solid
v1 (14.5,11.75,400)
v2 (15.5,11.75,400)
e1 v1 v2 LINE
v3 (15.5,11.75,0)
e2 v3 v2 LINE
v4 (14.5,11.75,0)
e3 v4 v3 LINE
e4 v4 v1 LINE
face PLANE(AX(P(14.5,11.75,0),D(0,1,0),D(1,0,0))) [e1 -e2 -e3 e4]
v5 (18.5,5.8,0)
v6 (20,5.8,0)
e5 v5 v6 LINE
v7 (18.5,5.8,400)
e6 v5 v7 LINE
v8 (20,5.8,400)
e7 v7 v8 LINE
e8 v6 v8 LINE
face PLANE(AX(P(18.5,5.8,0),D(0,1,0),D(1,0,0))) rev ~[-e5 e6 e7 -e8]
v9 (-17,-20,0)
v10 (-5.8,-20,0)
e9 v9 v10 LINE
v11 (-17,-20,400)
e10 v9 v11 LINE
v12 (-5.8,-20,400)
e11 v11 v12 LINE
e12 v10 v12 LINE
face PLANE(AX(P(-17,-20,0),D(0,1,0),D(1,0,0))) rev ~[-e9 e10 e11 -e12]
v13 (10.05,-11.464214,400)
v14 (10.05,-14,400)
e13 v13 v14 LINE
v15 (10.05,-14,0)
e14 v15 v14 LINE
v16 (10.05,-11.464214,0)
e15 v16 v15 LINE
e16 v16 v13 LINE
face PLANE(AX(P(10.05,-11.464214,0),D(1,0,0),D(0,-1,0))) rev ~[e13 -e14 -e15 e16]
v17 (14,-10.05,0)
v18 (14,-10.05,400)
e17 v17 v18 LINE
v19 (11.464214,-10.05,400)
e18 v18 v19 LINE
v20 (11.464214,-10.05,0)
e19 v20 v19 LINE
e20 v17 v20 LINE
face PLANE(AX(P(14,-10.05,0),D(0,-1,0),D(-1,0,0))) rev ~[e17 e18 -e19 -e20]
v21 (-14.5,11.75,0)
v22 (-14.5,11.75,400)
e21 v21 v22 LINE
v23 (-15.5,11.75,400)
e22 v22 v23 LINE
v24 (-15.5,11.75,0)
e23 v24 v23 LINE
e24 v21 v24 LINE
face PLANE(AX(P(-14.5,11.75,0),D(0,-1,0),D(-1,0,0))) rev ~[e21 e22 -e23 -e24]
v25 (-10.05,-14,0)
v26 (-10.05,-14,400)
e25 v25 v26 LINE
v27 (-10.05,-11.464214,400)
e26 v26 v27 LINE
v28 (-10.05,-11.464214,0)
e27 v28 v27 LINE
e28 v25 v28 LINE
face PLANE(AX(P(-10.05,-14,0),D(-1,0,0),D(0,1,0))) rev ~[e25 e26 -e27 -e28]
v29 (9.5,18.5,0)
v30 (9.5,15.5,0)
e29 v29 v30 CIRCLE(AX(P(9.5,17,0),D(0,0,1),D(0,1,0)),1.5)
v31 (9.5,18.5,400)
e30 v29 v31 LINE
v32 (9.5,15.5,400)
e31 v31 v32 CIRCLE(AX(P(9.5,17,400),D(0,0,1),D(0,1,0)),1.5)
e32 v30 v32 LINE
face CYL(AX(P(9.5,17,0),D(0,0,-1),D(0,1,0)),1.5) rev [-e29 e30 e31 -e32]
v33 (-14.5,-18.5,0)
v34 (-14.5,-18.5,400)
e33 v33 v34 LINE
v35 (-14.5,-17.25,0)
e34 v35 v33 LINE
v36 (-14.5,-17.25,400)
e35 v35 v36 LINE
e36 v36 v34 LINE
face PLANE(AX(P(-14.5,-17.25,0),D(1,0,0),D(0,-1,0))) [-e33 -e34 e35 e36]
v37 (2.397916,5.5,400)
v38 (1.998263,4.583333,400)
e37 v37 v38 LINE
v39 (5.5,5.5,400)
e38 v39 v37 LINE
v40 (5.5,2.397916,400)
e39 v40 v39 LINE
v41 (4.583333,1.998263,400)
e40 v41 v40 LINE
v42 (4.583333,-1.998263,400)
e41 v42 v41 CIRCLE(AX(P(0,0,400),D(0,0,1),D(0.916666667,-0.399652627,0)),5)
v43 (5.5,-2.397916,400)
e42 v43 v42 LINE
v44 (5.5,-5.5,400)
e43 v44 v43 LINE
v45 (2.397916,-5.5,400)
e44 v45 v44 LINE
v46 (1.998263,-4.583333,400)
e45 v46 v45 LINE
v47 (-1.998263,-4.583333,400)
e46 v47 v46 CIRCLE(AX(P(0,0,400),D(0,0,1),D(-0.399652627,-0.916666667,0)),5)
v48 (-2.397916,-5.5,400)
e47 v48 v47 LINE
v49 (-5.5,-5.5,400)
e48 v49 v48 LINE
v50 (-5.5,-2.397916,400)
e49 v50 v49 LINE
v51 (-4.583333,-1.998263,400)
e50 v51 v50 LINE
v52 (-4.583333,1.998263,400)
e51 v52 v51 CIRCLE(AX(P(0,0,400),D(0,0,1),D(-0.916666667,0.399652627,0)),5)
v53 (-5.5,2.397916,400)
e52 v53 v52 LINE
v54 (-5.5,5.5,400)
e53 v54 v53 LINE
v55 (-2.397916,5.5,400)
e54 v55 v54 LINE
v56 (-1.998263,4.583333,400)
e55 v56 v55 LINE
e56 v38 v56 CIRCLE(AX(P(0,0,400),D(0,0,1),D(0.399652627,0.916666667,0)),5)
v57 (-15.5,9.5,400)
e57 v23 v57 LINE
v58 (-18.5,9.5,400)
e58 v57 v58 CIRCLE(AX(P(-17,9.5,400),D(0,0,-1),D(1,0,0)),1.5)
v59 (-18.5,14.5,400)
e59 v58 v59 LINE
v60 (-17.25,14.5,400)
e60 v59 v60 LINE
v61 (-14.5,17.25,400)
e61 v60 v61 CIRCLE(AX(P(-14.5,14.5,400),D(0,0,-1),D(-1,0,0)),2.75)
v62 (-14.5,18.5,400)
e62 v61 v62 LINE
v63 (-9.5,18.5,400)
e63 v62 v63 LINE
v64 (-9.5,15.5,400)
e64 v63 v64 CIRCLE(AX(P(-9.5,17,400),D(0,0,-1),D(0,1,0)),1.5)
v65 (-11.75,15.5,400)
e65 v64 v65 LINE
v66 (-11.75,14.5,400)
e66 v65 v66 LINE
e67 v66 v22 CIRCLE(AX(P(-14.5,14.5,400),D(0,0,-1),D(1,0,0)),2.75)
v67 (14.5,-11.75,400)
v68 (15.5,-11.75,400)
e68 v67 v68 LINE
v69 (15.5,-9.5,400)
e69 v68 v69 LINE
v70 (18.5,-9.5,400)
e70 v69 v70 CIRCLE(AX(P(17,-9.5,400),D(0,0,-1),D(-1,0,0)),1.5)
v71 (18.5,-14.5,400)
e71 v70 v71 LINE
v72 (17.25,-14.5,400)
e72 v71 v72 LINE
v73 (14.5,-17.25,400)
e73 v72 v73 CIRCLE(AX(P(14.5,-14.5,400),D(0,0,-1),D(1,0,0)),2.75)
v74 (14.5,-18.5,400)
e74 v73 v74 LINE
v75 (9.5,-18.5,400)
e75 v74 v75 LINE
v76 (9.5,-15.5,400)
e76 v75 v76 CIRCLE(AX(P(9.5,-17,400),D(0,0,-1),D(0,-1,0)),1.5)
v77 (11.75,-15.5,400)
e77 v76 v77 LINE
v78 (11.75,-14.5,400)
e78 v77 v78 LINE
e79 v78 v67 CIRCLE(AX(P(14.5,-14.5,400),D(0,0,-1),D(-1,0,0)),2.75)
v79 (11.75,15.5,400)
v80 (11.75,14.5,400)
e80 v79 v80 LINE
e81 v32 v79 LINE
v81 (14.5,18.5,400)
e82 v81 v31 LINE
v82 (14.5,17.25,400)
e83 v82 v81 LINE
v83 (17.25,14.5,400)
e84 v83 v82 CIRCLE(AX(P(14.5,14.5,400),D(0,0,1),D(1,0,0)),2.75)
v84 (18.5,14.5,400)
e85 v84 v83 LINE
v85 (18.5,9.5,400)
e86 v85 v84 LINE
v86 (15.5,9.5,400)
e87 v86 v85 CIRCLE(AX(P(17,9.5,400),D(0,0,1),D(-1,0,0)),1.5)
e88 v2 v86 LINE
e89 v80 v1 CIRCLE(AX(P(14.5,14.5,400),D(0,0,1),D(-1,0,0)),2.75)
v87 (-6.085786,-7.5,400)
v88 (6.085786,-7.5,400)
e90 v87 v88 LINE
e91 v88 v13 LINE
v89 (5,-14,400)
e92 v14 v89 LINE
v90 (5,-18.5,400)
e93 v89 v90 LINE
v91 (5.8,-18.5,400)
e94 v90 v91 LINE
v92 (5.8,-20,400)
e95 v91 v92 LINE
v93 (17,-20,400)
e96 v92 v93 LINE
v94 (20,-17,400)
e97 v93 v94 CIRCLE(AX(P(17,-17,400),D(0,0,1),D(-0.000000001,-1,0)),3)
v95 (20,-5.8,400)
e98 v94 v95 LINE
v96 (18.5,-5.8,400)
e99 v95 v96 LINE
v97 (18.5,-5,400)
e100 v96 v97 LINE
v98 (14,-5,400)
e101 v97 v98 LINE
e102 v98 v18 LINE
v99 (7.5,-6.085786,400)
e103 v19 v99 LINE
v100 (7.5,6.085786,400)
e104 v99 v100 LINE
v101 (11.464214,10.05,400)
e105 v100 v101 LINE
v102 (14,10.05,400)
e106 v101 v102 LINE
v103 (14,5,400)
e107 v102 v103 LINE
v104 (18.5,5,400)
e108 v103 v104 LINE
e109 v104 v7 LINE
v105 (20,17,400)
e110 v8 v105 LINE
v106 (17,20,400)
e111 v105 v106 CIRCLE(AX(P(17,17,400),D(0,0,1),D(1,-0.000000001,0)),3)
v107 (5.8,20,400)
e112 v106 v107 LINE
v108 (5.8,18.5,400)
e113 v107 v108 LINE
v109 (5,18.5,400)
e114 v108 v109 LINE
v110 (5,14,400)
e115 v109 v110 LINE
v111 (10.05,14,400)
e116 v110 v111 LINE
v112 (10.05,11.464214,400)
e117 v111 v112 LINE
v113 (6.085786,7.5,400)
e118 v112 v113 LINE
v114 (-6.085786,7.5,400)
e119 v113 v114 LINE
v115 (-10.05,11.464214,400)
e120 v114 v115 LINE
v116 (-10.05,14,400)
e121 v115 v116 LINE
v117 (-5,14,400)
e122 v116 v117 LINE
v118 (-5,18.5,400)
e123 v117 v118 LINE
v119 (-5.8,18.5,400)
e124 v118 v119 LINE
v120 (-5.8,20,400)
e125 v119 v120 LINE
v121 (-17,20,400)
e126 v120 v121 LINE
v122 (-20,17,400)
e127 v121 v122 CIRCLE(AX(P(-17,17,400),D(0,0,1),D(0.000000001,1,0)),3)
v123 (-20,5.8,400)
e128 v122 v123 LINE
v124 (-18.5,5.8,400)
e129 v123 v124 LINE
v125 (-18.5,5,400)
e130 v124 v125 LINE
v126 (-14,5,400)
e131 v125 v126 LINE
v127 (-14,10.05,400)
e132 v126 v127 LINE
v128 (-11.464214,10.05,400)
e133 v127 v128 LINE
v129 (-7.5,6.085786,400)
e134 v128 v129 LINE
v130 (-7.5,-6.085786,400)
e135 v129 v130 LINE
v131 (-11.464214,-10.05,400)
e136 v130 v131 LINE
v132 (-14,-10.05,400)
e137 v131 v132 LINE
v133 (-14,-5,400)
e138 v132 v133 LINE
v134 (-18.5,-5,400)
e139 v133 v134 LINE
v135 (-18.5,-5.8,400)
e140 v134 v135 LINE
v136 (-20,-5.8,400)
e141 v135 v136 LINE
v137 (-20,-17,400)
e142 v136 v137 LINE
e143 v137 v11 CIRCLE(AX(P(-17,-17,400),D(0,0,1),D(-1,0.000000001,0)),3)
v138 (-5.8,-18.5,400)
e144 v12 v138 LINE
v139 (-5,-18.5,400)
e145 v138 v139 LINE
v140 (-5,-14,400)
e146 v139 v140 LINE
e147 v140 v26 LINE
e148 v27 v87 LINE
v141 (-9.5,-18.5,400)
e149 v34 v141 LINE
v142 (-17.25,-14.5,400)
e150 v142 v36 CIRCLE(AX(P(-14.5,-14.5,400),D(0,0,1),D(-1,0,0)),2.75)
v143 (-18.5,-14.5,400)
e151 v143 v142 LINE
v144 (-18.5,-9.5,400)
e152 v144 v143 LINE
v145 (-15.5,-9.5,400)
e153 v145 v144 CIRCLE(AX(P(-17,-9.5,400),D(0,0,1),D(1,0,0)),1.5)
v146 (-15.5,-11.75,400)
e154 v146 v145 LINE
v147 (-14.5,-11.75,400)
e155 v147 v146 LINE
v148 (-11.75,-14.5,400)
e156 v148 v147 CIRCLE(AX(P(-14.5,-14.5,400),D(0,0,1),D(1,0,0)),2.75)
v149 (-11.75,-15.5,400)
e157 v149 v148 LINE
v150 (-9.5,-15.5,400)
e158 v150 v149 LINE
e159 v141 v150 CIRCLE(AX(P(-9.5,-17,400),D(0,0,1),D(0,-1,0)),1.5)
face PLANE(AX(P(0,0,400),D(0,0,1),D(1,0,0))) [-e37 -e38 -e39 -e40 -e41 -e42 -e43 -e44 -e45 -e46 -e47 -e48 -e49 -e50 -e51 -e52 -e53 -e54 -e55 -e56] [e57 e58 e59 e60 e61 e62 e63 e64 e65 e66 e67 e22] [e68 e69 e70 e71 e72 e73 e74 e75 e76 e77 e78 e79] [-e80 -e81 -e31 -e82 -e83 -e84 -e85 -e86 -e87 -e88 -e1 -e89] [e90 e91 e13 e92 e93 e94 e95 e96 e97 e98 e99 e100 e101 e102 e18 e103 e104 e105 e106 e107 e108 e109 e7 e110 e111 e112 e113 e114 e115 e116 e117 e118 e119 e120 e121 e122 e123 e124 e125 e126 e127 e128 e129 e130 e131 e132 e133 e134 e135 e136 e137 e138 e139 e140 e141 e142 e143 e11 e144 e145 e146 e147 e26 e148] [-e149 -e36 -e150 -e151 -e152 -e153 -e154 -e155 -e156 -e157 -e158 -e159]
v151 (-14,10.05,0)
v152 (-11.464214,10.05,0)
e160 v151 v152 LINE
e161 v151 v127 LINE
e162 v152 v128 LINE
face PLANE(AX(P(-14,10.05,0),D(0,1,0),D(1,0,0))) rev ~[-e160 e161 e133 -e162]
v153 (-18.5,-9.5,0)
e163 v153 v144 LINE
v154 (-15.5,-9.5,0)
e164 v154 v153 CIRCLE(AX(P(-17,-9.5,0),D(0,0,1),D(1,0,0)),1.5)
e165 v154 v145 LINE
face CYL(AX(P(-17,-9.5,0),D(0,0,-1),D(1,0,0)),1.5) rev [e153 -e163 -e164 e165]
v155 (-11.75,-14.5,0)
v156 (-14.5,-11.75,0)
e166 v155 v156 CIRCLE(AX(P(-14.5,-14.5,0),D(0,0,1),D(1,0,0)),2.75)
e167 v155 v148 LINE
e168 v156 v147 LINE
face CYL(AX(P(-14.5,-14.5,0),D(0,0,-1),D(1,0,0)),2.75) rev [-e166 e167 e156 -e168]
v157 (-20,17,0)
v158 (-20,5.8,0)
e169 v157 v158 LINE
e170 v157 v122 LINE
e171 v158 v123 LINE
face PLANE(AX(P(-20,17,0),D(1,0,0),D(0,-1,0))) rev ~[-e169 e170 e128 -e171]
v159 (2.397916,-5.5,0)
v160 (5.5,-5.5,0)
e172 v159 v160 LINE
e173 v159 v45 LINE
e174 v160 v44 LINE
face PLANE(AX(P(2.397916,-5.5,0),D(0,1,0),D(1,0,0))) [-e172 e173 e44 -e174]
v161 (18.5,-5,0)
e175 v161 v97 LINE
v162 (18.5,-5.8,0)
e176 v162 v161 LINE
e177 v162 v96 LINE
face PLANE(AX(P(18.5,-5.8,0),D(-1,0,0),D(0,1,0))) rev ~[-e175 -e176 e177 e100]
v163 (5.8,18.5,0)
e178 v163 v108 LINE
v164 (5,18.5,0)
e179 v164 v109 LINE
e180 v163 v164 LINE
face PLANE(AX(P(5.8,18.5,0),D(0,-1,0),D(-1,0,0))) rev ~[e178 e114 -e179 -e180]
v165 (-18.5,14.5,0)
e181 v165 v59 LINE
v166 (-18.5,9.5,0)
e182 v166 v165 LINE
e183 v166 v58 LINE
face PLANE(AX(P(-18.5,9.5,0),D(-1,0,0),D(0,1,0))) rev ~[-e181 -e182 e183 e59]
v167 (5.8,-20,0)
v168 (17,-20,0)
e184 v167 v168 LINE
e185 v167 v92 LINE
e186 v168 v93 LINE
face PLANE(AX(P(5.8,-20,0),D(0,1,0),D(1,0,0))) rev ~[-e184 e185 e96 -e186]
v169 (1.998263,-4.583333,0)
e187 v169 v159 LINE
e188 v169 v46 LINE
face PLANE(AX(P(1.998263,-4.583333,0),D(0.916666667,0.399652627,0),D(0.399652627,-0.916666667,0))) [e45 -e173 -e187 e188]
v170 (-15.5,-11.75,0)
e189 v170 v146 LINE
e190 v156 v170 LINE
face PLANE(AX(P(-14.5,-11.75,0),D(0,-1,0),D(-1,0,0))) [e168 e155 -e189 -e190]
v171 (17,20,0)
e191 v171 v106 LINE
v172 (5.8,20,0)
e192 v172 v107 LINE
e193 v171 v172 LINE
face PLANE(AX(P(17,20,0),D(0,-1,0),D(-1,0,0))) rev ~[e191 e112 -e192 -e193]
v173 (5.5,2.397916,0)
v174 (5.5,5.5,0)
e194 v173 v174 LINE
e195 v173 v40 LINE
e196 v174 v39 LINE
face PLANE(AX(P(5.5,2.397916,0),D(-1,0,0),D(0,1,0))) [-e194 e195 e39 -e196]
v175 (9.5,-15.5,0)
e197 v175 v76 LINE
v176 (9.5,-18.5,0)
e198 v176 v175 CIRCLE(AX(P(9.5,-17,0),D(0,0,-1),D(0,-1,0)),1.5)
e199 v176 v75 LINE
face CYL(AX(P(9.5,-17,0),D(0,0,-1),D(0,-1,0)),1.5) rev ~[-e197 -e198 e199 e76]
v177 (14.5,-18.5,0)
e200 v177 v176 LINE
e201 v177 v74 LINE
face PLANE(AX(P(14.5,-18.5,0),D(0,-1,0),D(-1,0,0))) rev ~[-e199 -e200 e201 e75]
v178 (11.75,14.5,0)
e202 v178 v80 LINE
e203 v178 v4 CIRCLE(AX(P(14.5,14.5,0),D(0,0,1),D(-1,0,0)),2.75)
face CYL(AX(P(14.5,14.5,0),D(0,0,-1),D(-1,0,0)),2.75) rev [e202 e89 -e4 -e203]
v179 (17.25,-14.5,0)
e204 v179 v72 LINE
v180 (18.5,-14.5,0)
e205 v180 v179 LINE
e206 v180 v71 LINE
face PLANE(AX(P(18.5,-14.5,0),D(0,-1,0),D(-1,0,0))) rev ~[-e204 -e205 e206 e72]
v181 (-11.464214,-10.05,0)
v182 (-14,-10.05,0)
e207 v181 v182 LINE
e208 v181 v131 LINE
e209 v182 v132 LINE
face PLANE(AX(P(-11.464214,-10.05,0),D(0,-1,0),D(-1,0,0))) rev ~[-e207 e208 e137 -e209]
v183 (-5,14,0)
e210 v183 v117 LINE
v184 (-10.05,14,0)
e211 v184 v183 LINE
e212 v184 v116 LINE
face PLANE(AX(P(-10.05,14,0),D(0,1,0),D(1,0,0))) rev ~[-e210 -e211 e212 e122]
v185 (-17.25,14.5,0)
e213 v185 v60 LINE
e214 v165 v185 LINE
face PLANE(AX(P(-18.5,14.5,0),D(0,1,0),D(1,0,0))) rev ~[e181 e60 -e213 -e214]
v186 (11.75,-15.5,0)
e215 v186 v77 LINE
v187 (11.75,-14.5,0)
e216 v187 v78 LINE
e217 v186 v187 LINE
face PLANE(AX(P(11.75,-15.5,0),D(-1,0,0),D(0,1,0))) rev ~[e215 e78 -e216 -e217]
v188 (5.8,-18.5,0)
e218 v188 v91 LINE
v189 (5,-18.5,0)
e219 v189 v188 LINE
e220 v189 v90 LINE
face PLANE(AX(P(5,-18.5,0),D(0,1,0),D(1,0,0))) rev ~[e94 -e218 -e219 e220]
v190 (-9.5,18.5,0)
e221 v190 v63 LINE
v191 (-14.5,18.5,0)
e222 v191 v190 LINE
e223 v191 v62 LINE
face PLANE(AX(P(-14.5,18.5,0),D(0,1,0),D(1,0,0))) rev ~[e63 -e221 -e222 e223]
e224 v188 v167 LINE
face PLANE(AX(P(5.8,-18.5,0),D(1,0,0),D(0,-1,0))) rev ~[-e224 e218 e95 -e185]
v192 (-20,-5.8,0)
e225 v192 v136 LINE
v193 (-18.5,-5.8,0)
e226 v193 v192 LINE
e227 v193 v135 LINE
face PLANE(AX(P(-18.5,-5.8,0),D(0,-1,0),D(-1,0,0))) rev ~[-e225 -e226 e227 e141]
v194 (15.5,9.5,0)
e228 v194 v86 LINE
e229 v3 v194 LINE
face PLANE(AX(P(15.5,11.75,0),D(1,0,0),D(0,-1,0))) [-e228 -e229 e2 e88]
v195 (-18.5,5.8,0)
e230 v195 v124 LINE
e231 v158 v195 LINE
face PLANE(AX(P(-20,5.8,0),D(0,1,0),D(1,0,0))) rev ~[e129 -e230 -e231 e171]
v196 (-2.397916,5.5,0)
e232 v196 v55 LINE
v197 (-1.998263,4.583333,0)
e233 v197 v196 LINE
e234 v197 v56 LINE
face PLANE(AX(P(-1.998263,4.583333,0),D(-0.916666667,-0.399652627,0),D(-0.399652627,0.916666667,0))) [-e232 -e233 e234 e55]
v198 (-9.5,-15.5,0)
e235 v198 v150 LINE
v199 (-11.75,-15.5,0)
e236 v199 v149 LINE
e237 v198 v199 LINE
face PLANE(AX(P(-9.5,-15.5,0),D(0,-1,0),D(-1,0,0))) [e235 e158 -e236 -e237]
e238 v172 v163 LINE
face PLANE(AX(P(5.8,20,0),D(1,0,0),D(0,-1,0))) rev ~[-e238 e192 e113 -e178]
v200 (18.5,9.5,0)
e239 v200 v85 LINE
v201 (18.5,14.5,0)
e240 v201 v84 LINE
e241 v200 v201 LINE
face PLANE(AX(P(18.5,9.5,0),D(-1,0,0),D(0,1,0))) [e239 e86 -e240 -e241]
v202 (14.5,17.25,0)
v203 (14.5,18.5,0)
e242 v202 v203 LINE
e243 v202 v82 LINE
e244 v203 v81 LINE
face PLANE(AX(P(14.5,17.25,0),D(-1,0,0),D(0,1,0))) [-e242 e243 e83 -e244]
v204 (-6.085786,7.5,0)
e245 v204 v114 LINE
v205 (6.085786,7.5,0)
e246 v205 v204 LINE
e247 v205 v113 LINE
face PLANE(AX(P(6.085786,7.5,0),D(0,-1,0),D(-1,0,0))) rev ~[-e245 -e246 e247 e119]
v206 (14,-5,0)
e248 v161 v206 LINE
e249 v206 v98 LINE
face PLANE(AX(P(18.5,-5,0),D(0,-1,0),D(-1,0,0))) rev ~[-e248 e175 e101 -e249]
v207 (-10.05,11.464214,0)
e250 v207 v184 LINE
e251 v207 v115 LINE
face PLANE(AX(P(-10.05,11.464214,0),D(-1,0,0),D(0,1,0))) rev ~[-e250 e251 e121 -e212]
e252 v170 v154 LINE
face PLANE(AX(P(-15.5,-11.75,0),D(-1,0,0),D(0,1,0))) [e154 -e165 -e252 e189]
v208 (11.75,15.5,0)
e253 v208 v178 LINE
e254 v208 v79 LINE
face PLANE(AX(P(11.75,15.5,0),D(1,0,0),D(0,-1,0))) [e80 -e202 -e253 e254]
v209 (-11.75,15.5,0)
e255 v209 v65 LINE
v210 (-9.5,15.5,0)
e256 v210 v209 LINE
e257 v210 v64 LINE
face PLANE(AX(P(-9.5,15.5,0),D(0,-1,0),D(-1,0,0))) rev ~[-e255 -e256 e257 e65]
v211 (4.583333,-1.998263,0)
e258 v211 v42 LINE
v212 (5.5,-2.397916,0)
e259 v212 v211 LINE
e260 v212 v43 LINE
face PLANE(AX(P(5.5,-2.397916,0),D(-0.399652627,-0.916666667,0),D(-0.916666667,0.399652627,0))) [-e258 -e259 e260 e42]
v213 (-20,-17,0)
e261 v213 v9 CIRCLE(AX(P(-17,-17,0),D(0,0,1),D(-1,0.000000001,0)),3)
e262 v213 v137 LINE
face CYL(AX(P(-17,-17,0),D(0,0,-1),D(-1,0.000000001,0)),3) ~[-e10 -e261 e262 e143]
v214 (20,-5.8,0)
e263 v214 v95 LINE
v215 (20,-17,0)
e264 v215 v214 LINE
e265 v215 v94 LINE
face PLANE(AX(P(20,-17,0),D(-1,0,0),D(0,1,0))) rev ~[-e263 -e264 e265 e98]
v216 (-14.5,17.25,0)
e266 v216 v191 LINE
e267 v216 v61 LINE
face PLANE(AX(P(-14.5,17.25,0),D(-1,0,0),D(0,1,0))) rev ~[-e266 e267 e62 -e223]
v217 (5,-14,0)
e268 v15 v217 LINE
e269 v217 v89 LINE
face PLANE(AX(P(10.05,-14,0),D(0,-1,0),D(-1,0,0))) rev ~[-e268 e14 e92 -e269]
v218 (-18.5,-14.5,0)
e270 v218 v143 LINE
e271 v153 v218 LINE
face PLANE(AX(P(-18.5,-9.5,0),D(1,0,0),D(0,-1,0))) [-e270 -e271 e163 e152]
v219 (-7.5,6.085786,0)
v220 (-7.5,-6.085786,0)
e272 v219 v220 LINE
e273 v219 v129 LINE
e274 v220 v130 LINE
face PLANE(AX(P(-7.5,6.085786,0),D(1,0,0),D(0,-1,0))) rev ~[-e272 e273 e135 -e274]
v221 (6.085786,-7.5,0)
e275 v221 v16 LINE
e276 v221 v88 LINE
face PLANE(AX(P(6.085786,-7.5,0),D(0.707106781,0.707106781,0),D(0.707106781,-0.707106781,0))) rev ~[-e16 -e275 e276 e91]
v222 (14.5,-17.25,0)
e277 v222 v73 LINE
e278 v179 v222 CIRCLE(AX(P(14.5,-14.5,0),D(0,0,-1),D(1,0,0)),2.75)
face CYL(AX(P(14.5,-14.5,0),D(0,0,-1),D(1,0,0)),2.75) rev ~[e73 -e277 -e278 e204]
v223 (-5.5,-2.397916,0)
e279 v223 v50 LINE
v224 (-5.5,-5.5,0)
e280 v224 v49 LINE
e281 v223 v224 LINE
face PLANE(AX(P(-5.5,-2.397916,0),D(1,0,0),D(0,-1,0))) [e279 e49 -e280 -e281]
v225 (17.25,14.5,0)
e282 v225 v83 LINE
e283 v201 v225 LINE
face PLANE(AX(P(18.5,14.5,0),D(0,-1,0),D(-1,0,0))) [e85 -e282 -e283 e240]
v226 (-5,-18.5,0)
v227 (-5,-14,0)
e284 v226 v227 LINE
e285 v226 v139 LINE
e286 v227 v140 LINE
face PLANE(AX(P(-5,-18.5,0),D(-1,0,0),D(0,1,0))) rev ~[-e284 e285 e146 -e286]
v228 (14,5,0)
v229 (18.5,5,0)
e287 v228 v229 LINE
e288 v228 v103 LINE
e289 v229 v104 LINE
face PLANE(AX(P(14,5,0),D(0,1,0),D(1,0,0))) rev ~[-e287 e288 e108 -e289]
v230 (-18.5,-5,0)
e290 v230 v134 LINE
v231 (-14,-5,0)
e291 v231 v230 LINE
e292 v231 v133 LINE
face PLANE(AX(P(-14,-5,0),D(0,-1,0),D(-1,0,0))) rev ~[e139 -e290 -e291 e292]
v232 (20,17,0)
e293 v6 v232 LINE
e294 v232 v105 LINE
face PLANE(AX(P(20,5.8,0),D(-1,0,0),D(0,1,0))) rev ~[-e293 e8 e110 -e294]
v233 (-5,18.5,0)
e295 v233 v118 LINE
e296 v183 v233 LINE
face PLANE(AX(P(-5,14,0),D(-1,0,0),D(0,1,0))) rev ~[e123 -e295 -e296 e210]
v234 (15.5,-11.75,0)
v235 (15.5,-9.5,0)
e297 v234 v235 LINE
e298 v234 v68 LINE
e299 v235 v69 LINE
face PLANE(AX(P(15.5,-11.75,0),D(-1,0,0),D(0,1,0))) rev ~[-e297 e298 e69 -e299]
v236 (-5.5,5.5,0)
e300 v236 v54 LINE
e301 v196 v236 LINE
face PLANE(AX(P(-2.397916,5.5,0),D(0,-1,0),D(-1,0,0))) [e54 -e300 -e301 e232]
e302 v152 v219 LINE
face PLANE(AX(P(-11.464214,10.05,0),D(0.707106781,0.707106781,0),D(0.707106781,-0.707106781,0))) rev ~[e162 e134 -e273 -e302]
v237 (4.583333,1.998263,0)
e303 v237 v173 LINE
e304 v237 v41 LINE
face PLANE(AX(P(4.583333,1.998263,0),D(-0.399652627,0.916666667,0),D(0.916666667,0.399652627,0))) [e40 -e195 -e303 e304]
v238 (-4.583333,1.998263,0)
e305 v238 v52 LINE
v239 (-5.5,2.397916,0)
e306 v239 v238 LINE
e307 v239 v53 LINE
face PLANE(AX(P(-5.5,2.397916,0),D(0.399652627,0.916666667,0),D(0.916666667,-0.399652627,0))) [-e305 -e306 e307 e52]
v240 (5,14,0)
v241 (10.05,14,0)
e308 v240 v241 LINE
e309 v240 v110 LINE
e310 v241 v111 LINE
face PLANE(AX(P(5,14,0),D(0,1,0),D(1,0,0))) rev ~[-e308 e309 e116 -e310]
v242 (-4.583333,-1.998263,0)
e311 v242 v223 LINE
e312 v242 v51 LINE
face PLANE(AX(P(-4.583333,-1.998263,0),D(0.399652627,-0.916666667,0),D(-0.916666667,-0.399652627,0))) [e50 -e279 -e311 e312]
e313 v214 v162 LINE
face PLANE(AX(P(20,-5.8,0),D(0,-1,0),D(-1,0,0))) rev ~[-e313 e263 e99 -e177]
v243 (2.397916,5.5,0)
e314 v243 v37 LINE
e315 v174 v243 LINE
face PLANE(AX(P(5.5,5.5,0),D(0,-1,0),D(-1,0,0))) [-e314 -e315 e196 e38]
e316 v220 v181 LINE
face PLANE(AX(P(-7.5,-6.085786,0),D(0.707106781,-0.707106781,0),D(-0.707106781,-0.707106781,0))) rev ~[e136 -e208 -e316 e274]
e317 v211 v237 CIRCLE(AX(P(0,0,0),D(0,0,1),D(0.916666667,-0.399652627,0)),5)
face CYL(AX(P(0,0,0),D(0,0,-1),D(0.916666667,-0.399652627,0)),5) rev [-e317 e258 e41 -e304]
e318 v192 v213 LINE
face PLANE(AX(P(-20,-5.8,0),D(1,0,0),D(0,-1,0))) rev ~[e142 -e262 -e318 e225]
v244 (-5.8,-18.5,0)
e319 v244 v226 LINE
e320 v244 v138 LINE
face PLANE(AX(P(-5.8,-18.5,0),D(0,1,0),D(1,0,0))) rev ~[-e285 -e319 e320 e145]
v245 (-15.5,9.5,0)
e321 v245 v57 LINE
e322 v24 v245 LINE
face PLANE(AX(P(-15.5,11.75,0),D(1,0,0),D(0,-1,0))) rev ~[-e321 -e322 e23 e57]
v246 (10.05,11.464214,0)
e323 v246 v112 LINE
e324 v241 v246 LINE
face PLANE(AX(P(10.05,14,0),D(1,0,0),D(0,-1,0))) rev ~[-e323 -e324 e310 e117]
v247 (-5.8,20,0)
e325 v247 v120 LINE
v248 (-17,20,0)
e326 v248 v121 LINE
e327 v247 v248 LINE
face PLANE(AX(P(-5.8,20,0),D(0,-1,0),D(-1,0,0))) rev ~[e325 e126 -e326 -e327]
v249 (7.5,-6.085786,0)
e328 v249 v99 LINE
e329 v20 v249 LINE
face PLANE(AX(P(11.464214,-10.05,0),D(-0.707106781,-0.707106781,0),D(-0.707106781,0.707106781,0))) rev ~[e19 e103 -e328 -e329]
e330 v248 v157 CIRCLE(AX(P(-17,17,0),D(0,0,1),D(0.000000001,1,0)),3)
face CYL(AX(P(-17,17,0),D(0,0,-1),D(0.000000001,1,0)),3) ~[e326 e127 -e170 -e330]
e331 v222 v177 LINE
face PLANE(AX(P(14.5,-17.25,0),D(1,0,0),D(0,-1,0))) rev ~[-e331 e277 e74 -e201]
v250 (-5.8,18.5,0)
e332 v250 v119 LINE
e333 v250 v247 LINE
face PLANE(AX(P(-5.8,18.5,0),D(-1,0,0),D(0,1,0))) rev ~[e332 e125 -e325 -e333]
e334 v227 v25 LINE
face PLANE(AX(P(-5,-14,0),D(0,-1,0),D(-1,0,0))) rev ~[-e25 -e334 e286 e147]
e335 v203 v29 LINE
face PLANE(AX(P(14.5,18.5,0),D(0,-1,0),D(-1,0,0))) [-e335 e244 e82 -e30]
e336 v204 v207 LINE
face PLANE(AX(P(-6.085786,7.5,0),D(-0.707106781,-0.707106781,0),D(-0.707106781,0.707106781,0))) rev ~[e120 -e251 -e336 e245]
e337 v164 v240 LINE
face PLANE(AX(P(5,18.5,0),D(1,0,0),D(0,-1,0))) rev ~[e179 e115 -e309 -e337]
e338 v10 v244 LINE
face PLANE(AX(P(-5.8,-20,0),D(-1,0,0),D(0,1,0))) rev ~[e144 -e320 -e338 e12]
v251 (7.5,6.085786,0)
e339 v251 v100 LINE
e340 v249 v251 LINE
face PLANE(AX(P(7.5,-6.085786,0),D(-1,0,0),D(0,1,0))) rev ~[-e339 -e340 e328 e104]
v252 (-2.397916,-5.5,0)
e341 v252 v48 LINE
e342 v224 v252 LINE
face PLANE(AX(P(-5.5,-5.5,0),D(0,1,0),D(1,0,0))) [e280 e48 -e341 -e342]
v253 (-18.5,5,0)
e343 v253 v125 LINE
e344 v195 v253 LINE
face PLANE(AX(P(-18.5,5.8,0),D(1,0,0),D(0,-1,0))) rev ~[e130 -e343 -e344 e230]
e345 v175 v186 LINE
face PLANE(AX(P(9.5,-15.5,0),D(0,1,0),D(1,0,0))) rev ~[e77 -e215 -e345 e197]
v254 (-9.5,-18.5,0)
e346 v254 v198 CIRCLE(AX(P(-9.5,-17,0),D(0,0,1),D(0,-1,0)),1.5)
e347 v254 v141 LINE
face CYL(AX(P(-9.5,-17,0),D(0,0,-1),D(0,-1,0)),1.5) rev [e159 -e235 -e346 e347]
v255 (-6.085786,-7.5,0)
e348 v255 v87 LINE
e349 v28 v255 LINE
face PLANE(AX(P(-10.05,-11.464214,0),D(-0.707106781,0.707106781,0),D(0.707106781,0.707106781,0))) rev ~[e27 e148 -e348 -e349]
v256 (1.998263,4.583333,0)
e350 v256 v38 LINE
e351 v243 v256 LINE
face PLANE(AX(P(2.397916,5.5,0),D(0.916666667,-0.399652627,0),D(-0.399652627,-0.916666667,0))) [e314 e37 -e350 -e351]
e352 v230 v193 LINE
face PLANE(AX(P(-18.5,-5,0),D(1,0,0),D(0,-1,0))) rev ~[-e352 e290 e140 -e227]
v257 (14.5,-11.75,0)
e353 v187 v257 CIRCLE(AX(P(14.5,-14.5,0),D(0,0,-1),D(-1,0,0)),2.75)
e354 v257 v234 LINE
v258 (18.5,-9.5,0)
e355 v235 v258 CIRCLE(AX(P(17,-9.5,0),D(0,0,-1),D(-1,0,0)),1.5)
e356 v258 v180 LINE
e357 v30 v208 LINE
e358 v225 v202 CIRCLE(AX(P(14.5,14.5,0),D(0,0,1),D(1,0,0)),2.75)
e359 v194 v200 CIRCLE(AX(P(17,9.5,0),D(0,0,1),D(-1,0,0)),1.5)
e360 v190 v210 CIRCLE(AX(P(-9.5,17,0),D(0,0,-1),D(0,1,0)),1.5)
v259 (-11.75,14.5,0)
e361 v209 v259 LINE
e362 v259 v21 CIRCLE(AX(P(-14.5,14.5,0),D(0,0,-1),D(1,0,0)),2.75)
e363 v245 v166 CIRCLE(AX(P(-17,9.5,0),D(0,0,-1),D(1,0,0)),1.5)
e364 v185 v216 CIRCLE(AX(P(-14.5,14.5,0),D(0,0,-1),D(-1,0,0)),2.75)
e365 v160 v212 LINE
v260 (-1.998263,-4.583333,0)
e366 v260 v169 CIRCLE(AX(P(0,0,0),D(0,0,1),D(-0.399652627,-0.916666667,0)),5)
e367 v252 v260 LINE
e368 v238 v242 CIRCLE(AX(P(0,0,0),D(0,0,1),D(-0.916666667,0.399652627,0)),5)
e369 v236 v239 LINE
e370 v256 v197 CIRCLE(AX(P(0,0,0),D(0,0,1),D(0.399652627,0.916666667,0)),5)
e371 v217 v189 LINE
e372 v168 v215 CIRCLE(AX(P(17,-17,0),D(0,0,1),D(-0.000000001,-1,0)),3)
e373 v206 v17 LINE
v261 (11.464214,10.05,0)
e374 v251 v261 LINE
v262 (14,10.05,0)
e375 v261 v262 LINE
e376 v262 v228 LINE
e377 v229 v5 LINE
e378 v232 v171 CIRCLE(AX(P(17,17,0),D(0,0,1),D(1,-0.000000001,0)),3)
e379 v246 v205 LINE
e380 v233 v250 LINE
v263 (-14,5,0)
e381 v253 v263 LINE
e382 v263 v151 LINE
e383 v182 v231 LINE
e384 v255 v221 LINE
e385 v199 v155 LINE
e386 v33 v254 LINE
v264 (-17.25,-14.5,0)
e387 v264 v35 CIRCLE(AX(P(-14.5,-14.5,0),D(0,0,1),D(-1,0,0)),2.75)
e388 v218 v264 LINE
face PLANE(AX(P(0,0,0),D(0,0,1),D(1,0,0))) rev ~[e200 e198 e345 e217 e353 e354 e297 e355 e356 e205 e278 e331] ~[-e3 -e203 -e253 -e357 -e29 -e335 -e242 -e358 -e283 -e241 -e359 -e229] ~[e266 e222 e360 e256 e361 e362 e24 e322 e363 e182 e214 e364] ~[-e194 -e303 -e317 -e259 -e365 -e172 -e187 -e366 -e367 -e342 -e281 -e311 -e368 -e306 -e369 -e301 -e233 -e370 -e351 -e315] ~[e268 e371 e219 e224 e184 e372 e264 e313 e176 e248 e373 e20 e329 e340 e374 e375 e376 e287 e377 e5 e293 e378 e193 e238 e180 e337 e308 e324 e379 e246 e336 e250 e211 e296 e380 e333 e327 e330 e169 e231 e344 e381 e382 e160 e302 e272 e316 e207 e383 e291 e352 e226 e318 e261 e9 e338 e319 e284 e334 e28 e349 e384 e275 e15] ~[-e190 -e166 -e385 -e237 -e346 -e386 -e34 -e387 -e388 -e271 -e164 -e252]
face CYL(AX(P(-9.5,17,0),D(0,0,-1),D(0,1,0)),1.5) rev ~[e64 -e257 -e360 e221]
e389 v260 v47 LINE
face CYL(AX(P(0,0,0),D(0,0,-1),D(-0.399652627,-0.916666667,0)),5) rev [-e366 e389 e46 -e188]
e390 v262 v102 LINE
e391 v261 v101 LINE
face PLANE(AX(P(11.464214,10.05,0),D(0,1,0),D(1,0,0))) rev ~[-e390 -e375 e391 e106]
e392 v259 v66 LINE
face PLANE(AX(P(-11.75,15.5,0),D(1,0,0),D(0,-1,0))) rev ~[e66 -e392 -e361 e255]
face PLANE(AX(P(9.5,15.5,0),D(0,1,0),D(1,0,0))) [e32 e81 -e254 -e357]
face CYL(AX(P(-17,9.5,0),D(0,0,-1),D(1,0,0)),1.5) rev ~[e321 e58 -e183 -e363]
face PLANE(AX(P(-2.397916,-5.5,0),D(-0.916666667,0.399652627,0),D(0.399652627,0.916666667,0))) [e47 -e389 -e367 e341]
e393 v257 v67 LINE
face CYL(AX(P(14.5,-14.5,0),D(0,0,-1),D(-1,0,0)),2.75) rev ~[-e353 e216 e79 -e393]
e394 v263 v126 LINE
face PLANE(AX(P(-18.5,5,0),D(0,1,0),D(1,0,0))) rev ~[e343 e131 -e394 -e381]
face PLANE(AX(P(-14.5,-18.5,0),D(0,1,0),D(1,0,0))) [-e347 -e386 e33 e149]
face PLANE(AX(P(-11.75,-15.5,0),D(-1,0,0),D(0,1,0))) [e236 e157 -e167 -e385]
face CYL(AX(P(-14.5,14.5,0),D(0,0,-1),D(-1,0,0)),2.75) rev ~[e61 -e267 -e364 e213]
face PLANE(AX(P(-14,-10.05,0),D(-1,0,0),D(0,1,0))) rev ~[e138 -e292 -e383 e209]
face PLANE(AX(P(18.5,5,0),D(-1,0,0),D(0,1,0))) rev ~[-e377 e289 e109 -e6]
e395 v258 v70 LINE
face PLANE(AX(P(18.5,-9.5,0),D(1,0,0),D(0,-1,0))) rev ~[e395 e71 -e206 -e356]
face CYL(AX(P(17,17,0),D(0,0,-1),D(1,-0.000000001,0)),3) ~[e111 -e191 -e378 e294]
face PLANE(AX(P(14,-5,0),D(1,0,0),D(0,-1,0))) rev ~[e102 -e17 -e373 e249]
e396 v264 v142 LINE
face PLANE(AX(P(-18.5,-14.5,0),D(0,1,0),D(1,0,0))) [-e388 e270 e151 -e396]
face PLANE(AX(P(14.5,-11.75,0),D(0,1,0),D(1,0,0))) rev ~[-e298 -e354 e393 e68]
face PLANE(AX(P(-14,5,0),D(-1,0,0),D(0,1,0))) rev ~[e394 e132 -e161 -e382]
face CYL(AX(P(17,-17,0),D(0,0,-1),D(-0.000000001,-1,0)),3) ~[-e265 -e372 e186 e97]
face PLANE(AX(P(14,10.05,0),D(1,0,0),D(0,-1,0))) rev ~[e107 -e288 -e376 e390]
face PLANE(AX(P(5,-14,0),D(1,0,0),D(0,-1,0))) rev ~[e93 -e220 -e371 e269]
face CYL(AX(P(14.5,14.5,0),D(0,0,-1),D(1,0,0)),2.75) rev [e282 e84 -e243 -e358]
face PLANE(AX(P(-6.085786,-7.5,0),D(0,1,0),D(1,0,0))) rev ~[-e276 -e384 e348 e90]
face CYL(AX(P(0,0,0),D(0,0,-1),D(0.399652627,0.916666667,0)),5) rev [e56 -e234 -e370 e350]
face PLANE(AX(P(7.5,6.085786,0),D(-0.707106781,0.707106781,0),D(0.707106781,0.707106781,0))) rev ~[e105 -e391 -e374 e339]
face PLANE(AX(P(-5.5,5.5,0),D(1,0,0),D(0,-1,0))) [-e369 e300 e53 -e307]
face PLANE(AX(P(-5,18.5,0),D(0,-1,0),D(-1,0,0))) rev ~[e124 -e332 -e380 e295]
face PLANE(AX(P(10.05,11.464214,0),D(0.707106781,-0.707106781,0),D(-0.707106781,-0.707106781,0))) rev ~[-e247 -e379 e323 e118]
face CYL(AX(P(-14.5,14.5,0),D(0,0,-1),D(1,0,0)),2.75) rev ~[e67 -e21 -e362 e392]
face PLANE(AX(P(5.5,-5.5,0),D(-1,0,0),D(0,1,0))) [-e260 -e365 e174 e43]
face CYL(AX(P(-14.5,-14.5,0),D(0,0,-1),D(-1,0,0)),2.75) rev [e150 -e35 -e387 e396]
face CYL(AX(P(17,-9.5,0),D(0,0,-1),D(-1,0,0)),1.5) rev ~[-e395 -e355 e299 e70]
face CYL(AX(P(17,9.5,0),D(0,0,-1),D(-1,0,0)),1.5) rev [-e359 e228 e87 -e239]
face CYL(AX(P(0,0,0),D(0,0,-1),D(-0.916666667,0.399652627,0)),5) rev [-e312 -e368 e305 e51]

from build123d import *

# Parameters (mm, degrees)
EXTRUDE1_DEPTH = 400


with BuildPart() as part:
    # Sketch1 → Extrude1 (new body)
    with BuildSketch(Plane.XY):
        with BuildLine():
            Line((5.8, -20), (17, -20))
            ThreePointArc((17, -20), (19.121320344, -19.121320344), (20, -17))
            Line((20, -17), (20, -5.8))
            Line((20, -5.8), (18.5, -5.8))
            Line((18.5, -5.8), (18.5, -5))
            Line((18.5, -5), (14, -5))
            Line((14, -5), (14, -10.05))
            Line((14, -10.05), (11.464213562, -10.05))
            Line((11.464213562, -10.05), (7.5, -6.085786438))
            Line((7.5, -6.085786438), (7.5, 6.085786438))
            Line((7.5, 6.085786438), (11.464213562, 10.05))
            Line((11.464213562, 10.05), (14, 10.05))
            Line((14, 10.05), (14, 5))
            Line((14, 5), (18.5, 5))
            Line((18.5, 5), (18.5, 5.8))
            Line((18.5, 5.8), (20, 5.8))
            Line((20, 5.8), (20, 17))
            ThreePointArc((20, 17), (19.121320344, 19.121320344), (17, 20))
            Line((17, 20), (5.8, 20))
            Line((5.8, 20), (5.8, 18.5))
            Line((5.8, 18.5), (5, 18.5))
            Line((5, 18.5), (5, 14))
            Line((5, 14), (10.05, 14))
            Line((10.05, 14), (10.05, 11.464213562))
            Line((10.05, 11.464213562), (6.085786438, 7.5))
            Line((6.085786438, 7.5), (-6.085786438, 7.5))
            Line((-6.085786438, 7.5), (-10.05, 11.464213562))
            Line((-10.05, 11.464213562), (-10.05, 14))
            Line((-10.05, 14), (-5, 14))
            Line((-5, 14), (-5, 18.5))
            Line((-5, 18.5), (-5.8, 18.5))
            Line((-5.8, 18.5), (-5.8, 20))
            Line((-5.8, 20), (-17, 20))
            ThreePointArc((-17, 20), (-19.121320344, 19.121320344), (-20, 17))
            Line((-20, 17), (-20, 5.8))
            Line((-20, 5.8), (-18.5, 5.8))
            Line((-18.5, 5.8), (-18.5, 5))
            Line((-18.5, 5), (-14, 5))
            Line((-14, 5), (-14, 10.05))
            Line((-14, 10.05), (-11.464213562, 10.05))
            Line((-11.464213562, 10.05), (-7.5, 6.085786438))
            Line((-7.5, 6.085786438), (-7.5, -6.085786438))
            Line((-7.5, -6.085786438), (-11.464213562, -10.05))
            Line((-11.464213562, -10.05), (-14, -10.05))
            Line((-14, -10.05), (-14, -5))
            Line((-14, -5), (-18.5, -5))
            Line((-18.5, -5), (-18.5, -5.8))
            Line((-18.5, -5.8), (-20, -5.8))
            Line((-20, -5.8), (-20, -17))
            ThreePointArc((-20, -17), (-19.121320344, -19.121320344), (-17, -20))
            Line((-17, -20), (-5.8, -20))
            Line((-5.8, -20), (-5.8, -18.5))
            Line((-5.8, -18.5), (-5, -18.5))
            Line((-5, -18.5), (-5, -14))
            Line((-5, -14), (-10.05, -14))
            Line((-10.05, -14), (-10.05, -11.464213562))
            Line((-10.05, -11.464213562), (-6.085786438, -7.5))
            Line((-6.085786438, -7.5), (6.085786438, -7.5))
            Line((6.085786438, -7.5), (10.05, -11.464213562))
            Line((10.05, -11.464213562), (10.05, -14))
            Line((10.05, -14), (5, -14))
            Line((5, -14), (5, -18.5))
            Line((5, -18.5), (5.8, -18.5))
            Line((5.8, -18.5), (5.8, -20))
        make_face()
        with BuildLine():
            Line((14.5, -18.5), (9.5, -18.5))
            ThreePointArc((9.5, -18.5), (8, -17), (9.5, -15.5))
            Line((9.5, -15.5), (11.75, -15.5))
            Line((11.75, -15.5), (11.75, -14.5))
            ThreePointArc((11.75, -14.5), (12.555456352, -12.555456352), (14.5, -11.75))
            Line((14.5, -11.75), (15.5, -11.75))
            Line((15.5, -11.75), (15.5, -9.5))
            ThreePointArc((15.5, -9.5), (17, -8), (18.5, -9.5))
            Line((18.5, -9.5), (18.5, -14.5))
            Line((18.5, -14.5), (17.25, -14.5))
            ThreePointArc((17.25, -14.5), (16.444543648, -16.444543648), (14.5, -17.25))
            Line((14.5, -17.25), (14.5, -18.5))
        make_face(mode=Mode.SUBTRACT)
        with BuildLine():
            Line((18.5, 14.5), (17.25, 14.5))
            ThreePointArc((17.25, 14.5), (16.444543648, 16.444543648), (14.5, 17.25))
            Line((14.5, 17.25), (14.5, 18.5))
            Line((14.5, 18.5), (9.5, 18.5))
            ThreePointArc((9.5, 18.5), (8, 17), (9.5, 15.5))
            Line((9.5, 15.5), (11.75, 15.5))
            Line((11.75, 15.5), (11.75, 14.5))
            ThreePointArc((11.75, 14.5), (12.555456352, 12.555456352), (14.5, 11.75))
            Line((14.5, 11.75), (15.5, 11.75))
            Line((15.5, 11.75), (15.5, 9.5))
            ThreePointArc((15.5, 9.5), (17, 8), (18.5, 9.5))
            Line((18.5, 9.5), (18.5, 14.5))
        make_face(mode=Mode.SUBTRACT)
        with BuildLine():
            Line((5.5, 5.5), (2.397915762, 5.5))
            Line((2.397915762, 5.5), (1.998263135, 4.583333333))
            ThreePointArc((1.998263135, 4.583333333), (0, 5), (-1.998263135, 4.583333333))
            Line((-1.998263135, 4.583333333), (-2.397915762, 5.5))
            Line((-2.397915762, 5.5), (-5.5, 5.5))
            Line((-5.5, 5.5), (-5.5, 2.397915762))
            Line((-5.5, 2.397915762), (-4.583333333, 1.998263135))
            ThreePointArc((-4.583333333, 1.998263135), (-5, 0), (-4.583333333, -1.998263135))
            Line((-4.583333333, -1.998263135), (-5.5, -2.397915762))
            Line((-5.5, -2.397915762), (-5.5, -5.5))
            Line((-5.5, -5.5), (-2.397915762, -5.5))
            Line((-2.397915762, -5.5), (-1.998263135, -4.583333333))
            ThreePointArc((-1.998263135, -4.583333333), (0, -5), (1.998263135, -4.583333333))
            Line((1.998263135, -4.583333333), (2.397915762, -5.5))
            Line((2.397915762, -5.5), (5.5, -5.5))
            Line((5.5, -5.5), (5.5, -2.397915762))
            Line((5.5, -2.397915762), (4.583333333, -1.998263135))
            ThreePointArc((4.583333333, -1.998263135), (5, 0), (4.583333333, 1.998263135))
            Line((4.583333333, 1.998263135), (5.5, 2.397915762))
            Line((5.5, 2.397915762), (5.5, 5.5))
        make_face(mode=Mode.SUBTRACT)
        with BuildLine():
            Line((-18.5, -14.5), (-17.25, -14.5))
            ThreePointArc((-17.25, -14.5), (-16.444543648, -16.444543648), (-14.5, -17.25))
            Line((-14.5, -17.25), (-14.5, -18.5))
            Line((-14.5, -18.5), (-9.5, -18.5))
            ThreePointArc((-9.5, -18.5), (-8, -17), (-9.5, -15.5))
            Line((-9.5, -15.5), (-11.75, -15.5))
            Line((-11.75, -15.5), (-11.75, -14.5))
            ThreePointArc((-11.75, -14.5), (-12.555456352, -12.555456352), (-14.5, -11.75))
            Line((-14.5, -11.75), (-15.5, -11.75))
            Line((-15.5, -11.75), (-15.5, -9.5))
            ThreePointArc((-15.5, -9.5), (-17, -8), (-18.5, -9.5))
            Line((-18.5, -9.5), (-18.5, -14.5))
        make_face(mode=Mode.SUBTRACT)
        with BuildLine():
            Line((-14.5, 18.5), (-9.5, 18.5))
            ThreePointArc((-9.5, 18.5), (-8, 17), (-9.5, 15.5))
            Line((-9.5, 15.5), (-11.75, 15.5))
            Line((-11.75, 15.5), (-11.75, 14.5))
            ThreePointArc((-11.75, 14.5), (-12.555456352, 12.555456352), (-14.5, 11.75))
            Line((-14.5, 11.75), (-15.5, 11.75))
            Line((-15.5, 11.75), (-15.5, 9.5))
            ThreePointArc((-15.5, 9.5), (-17, 8), (-18.5, 9.5))
            Line((-18.5, 9.5), (-18.5, 14.5))
            Line((-18.5, 14.5), (-17.25, 14.5))
            ThreePointArc((-17.25, 14.5), (-16.444543648, 16.444543648), (-14.5, 17.25))
            Line((-14.5, 17.25), (-14.5, 18.5))
        make_face(mode=Mode.SUBTRACT)
    extrude(amount=EXTRUDE1_DEPTH)


solid = part.part
